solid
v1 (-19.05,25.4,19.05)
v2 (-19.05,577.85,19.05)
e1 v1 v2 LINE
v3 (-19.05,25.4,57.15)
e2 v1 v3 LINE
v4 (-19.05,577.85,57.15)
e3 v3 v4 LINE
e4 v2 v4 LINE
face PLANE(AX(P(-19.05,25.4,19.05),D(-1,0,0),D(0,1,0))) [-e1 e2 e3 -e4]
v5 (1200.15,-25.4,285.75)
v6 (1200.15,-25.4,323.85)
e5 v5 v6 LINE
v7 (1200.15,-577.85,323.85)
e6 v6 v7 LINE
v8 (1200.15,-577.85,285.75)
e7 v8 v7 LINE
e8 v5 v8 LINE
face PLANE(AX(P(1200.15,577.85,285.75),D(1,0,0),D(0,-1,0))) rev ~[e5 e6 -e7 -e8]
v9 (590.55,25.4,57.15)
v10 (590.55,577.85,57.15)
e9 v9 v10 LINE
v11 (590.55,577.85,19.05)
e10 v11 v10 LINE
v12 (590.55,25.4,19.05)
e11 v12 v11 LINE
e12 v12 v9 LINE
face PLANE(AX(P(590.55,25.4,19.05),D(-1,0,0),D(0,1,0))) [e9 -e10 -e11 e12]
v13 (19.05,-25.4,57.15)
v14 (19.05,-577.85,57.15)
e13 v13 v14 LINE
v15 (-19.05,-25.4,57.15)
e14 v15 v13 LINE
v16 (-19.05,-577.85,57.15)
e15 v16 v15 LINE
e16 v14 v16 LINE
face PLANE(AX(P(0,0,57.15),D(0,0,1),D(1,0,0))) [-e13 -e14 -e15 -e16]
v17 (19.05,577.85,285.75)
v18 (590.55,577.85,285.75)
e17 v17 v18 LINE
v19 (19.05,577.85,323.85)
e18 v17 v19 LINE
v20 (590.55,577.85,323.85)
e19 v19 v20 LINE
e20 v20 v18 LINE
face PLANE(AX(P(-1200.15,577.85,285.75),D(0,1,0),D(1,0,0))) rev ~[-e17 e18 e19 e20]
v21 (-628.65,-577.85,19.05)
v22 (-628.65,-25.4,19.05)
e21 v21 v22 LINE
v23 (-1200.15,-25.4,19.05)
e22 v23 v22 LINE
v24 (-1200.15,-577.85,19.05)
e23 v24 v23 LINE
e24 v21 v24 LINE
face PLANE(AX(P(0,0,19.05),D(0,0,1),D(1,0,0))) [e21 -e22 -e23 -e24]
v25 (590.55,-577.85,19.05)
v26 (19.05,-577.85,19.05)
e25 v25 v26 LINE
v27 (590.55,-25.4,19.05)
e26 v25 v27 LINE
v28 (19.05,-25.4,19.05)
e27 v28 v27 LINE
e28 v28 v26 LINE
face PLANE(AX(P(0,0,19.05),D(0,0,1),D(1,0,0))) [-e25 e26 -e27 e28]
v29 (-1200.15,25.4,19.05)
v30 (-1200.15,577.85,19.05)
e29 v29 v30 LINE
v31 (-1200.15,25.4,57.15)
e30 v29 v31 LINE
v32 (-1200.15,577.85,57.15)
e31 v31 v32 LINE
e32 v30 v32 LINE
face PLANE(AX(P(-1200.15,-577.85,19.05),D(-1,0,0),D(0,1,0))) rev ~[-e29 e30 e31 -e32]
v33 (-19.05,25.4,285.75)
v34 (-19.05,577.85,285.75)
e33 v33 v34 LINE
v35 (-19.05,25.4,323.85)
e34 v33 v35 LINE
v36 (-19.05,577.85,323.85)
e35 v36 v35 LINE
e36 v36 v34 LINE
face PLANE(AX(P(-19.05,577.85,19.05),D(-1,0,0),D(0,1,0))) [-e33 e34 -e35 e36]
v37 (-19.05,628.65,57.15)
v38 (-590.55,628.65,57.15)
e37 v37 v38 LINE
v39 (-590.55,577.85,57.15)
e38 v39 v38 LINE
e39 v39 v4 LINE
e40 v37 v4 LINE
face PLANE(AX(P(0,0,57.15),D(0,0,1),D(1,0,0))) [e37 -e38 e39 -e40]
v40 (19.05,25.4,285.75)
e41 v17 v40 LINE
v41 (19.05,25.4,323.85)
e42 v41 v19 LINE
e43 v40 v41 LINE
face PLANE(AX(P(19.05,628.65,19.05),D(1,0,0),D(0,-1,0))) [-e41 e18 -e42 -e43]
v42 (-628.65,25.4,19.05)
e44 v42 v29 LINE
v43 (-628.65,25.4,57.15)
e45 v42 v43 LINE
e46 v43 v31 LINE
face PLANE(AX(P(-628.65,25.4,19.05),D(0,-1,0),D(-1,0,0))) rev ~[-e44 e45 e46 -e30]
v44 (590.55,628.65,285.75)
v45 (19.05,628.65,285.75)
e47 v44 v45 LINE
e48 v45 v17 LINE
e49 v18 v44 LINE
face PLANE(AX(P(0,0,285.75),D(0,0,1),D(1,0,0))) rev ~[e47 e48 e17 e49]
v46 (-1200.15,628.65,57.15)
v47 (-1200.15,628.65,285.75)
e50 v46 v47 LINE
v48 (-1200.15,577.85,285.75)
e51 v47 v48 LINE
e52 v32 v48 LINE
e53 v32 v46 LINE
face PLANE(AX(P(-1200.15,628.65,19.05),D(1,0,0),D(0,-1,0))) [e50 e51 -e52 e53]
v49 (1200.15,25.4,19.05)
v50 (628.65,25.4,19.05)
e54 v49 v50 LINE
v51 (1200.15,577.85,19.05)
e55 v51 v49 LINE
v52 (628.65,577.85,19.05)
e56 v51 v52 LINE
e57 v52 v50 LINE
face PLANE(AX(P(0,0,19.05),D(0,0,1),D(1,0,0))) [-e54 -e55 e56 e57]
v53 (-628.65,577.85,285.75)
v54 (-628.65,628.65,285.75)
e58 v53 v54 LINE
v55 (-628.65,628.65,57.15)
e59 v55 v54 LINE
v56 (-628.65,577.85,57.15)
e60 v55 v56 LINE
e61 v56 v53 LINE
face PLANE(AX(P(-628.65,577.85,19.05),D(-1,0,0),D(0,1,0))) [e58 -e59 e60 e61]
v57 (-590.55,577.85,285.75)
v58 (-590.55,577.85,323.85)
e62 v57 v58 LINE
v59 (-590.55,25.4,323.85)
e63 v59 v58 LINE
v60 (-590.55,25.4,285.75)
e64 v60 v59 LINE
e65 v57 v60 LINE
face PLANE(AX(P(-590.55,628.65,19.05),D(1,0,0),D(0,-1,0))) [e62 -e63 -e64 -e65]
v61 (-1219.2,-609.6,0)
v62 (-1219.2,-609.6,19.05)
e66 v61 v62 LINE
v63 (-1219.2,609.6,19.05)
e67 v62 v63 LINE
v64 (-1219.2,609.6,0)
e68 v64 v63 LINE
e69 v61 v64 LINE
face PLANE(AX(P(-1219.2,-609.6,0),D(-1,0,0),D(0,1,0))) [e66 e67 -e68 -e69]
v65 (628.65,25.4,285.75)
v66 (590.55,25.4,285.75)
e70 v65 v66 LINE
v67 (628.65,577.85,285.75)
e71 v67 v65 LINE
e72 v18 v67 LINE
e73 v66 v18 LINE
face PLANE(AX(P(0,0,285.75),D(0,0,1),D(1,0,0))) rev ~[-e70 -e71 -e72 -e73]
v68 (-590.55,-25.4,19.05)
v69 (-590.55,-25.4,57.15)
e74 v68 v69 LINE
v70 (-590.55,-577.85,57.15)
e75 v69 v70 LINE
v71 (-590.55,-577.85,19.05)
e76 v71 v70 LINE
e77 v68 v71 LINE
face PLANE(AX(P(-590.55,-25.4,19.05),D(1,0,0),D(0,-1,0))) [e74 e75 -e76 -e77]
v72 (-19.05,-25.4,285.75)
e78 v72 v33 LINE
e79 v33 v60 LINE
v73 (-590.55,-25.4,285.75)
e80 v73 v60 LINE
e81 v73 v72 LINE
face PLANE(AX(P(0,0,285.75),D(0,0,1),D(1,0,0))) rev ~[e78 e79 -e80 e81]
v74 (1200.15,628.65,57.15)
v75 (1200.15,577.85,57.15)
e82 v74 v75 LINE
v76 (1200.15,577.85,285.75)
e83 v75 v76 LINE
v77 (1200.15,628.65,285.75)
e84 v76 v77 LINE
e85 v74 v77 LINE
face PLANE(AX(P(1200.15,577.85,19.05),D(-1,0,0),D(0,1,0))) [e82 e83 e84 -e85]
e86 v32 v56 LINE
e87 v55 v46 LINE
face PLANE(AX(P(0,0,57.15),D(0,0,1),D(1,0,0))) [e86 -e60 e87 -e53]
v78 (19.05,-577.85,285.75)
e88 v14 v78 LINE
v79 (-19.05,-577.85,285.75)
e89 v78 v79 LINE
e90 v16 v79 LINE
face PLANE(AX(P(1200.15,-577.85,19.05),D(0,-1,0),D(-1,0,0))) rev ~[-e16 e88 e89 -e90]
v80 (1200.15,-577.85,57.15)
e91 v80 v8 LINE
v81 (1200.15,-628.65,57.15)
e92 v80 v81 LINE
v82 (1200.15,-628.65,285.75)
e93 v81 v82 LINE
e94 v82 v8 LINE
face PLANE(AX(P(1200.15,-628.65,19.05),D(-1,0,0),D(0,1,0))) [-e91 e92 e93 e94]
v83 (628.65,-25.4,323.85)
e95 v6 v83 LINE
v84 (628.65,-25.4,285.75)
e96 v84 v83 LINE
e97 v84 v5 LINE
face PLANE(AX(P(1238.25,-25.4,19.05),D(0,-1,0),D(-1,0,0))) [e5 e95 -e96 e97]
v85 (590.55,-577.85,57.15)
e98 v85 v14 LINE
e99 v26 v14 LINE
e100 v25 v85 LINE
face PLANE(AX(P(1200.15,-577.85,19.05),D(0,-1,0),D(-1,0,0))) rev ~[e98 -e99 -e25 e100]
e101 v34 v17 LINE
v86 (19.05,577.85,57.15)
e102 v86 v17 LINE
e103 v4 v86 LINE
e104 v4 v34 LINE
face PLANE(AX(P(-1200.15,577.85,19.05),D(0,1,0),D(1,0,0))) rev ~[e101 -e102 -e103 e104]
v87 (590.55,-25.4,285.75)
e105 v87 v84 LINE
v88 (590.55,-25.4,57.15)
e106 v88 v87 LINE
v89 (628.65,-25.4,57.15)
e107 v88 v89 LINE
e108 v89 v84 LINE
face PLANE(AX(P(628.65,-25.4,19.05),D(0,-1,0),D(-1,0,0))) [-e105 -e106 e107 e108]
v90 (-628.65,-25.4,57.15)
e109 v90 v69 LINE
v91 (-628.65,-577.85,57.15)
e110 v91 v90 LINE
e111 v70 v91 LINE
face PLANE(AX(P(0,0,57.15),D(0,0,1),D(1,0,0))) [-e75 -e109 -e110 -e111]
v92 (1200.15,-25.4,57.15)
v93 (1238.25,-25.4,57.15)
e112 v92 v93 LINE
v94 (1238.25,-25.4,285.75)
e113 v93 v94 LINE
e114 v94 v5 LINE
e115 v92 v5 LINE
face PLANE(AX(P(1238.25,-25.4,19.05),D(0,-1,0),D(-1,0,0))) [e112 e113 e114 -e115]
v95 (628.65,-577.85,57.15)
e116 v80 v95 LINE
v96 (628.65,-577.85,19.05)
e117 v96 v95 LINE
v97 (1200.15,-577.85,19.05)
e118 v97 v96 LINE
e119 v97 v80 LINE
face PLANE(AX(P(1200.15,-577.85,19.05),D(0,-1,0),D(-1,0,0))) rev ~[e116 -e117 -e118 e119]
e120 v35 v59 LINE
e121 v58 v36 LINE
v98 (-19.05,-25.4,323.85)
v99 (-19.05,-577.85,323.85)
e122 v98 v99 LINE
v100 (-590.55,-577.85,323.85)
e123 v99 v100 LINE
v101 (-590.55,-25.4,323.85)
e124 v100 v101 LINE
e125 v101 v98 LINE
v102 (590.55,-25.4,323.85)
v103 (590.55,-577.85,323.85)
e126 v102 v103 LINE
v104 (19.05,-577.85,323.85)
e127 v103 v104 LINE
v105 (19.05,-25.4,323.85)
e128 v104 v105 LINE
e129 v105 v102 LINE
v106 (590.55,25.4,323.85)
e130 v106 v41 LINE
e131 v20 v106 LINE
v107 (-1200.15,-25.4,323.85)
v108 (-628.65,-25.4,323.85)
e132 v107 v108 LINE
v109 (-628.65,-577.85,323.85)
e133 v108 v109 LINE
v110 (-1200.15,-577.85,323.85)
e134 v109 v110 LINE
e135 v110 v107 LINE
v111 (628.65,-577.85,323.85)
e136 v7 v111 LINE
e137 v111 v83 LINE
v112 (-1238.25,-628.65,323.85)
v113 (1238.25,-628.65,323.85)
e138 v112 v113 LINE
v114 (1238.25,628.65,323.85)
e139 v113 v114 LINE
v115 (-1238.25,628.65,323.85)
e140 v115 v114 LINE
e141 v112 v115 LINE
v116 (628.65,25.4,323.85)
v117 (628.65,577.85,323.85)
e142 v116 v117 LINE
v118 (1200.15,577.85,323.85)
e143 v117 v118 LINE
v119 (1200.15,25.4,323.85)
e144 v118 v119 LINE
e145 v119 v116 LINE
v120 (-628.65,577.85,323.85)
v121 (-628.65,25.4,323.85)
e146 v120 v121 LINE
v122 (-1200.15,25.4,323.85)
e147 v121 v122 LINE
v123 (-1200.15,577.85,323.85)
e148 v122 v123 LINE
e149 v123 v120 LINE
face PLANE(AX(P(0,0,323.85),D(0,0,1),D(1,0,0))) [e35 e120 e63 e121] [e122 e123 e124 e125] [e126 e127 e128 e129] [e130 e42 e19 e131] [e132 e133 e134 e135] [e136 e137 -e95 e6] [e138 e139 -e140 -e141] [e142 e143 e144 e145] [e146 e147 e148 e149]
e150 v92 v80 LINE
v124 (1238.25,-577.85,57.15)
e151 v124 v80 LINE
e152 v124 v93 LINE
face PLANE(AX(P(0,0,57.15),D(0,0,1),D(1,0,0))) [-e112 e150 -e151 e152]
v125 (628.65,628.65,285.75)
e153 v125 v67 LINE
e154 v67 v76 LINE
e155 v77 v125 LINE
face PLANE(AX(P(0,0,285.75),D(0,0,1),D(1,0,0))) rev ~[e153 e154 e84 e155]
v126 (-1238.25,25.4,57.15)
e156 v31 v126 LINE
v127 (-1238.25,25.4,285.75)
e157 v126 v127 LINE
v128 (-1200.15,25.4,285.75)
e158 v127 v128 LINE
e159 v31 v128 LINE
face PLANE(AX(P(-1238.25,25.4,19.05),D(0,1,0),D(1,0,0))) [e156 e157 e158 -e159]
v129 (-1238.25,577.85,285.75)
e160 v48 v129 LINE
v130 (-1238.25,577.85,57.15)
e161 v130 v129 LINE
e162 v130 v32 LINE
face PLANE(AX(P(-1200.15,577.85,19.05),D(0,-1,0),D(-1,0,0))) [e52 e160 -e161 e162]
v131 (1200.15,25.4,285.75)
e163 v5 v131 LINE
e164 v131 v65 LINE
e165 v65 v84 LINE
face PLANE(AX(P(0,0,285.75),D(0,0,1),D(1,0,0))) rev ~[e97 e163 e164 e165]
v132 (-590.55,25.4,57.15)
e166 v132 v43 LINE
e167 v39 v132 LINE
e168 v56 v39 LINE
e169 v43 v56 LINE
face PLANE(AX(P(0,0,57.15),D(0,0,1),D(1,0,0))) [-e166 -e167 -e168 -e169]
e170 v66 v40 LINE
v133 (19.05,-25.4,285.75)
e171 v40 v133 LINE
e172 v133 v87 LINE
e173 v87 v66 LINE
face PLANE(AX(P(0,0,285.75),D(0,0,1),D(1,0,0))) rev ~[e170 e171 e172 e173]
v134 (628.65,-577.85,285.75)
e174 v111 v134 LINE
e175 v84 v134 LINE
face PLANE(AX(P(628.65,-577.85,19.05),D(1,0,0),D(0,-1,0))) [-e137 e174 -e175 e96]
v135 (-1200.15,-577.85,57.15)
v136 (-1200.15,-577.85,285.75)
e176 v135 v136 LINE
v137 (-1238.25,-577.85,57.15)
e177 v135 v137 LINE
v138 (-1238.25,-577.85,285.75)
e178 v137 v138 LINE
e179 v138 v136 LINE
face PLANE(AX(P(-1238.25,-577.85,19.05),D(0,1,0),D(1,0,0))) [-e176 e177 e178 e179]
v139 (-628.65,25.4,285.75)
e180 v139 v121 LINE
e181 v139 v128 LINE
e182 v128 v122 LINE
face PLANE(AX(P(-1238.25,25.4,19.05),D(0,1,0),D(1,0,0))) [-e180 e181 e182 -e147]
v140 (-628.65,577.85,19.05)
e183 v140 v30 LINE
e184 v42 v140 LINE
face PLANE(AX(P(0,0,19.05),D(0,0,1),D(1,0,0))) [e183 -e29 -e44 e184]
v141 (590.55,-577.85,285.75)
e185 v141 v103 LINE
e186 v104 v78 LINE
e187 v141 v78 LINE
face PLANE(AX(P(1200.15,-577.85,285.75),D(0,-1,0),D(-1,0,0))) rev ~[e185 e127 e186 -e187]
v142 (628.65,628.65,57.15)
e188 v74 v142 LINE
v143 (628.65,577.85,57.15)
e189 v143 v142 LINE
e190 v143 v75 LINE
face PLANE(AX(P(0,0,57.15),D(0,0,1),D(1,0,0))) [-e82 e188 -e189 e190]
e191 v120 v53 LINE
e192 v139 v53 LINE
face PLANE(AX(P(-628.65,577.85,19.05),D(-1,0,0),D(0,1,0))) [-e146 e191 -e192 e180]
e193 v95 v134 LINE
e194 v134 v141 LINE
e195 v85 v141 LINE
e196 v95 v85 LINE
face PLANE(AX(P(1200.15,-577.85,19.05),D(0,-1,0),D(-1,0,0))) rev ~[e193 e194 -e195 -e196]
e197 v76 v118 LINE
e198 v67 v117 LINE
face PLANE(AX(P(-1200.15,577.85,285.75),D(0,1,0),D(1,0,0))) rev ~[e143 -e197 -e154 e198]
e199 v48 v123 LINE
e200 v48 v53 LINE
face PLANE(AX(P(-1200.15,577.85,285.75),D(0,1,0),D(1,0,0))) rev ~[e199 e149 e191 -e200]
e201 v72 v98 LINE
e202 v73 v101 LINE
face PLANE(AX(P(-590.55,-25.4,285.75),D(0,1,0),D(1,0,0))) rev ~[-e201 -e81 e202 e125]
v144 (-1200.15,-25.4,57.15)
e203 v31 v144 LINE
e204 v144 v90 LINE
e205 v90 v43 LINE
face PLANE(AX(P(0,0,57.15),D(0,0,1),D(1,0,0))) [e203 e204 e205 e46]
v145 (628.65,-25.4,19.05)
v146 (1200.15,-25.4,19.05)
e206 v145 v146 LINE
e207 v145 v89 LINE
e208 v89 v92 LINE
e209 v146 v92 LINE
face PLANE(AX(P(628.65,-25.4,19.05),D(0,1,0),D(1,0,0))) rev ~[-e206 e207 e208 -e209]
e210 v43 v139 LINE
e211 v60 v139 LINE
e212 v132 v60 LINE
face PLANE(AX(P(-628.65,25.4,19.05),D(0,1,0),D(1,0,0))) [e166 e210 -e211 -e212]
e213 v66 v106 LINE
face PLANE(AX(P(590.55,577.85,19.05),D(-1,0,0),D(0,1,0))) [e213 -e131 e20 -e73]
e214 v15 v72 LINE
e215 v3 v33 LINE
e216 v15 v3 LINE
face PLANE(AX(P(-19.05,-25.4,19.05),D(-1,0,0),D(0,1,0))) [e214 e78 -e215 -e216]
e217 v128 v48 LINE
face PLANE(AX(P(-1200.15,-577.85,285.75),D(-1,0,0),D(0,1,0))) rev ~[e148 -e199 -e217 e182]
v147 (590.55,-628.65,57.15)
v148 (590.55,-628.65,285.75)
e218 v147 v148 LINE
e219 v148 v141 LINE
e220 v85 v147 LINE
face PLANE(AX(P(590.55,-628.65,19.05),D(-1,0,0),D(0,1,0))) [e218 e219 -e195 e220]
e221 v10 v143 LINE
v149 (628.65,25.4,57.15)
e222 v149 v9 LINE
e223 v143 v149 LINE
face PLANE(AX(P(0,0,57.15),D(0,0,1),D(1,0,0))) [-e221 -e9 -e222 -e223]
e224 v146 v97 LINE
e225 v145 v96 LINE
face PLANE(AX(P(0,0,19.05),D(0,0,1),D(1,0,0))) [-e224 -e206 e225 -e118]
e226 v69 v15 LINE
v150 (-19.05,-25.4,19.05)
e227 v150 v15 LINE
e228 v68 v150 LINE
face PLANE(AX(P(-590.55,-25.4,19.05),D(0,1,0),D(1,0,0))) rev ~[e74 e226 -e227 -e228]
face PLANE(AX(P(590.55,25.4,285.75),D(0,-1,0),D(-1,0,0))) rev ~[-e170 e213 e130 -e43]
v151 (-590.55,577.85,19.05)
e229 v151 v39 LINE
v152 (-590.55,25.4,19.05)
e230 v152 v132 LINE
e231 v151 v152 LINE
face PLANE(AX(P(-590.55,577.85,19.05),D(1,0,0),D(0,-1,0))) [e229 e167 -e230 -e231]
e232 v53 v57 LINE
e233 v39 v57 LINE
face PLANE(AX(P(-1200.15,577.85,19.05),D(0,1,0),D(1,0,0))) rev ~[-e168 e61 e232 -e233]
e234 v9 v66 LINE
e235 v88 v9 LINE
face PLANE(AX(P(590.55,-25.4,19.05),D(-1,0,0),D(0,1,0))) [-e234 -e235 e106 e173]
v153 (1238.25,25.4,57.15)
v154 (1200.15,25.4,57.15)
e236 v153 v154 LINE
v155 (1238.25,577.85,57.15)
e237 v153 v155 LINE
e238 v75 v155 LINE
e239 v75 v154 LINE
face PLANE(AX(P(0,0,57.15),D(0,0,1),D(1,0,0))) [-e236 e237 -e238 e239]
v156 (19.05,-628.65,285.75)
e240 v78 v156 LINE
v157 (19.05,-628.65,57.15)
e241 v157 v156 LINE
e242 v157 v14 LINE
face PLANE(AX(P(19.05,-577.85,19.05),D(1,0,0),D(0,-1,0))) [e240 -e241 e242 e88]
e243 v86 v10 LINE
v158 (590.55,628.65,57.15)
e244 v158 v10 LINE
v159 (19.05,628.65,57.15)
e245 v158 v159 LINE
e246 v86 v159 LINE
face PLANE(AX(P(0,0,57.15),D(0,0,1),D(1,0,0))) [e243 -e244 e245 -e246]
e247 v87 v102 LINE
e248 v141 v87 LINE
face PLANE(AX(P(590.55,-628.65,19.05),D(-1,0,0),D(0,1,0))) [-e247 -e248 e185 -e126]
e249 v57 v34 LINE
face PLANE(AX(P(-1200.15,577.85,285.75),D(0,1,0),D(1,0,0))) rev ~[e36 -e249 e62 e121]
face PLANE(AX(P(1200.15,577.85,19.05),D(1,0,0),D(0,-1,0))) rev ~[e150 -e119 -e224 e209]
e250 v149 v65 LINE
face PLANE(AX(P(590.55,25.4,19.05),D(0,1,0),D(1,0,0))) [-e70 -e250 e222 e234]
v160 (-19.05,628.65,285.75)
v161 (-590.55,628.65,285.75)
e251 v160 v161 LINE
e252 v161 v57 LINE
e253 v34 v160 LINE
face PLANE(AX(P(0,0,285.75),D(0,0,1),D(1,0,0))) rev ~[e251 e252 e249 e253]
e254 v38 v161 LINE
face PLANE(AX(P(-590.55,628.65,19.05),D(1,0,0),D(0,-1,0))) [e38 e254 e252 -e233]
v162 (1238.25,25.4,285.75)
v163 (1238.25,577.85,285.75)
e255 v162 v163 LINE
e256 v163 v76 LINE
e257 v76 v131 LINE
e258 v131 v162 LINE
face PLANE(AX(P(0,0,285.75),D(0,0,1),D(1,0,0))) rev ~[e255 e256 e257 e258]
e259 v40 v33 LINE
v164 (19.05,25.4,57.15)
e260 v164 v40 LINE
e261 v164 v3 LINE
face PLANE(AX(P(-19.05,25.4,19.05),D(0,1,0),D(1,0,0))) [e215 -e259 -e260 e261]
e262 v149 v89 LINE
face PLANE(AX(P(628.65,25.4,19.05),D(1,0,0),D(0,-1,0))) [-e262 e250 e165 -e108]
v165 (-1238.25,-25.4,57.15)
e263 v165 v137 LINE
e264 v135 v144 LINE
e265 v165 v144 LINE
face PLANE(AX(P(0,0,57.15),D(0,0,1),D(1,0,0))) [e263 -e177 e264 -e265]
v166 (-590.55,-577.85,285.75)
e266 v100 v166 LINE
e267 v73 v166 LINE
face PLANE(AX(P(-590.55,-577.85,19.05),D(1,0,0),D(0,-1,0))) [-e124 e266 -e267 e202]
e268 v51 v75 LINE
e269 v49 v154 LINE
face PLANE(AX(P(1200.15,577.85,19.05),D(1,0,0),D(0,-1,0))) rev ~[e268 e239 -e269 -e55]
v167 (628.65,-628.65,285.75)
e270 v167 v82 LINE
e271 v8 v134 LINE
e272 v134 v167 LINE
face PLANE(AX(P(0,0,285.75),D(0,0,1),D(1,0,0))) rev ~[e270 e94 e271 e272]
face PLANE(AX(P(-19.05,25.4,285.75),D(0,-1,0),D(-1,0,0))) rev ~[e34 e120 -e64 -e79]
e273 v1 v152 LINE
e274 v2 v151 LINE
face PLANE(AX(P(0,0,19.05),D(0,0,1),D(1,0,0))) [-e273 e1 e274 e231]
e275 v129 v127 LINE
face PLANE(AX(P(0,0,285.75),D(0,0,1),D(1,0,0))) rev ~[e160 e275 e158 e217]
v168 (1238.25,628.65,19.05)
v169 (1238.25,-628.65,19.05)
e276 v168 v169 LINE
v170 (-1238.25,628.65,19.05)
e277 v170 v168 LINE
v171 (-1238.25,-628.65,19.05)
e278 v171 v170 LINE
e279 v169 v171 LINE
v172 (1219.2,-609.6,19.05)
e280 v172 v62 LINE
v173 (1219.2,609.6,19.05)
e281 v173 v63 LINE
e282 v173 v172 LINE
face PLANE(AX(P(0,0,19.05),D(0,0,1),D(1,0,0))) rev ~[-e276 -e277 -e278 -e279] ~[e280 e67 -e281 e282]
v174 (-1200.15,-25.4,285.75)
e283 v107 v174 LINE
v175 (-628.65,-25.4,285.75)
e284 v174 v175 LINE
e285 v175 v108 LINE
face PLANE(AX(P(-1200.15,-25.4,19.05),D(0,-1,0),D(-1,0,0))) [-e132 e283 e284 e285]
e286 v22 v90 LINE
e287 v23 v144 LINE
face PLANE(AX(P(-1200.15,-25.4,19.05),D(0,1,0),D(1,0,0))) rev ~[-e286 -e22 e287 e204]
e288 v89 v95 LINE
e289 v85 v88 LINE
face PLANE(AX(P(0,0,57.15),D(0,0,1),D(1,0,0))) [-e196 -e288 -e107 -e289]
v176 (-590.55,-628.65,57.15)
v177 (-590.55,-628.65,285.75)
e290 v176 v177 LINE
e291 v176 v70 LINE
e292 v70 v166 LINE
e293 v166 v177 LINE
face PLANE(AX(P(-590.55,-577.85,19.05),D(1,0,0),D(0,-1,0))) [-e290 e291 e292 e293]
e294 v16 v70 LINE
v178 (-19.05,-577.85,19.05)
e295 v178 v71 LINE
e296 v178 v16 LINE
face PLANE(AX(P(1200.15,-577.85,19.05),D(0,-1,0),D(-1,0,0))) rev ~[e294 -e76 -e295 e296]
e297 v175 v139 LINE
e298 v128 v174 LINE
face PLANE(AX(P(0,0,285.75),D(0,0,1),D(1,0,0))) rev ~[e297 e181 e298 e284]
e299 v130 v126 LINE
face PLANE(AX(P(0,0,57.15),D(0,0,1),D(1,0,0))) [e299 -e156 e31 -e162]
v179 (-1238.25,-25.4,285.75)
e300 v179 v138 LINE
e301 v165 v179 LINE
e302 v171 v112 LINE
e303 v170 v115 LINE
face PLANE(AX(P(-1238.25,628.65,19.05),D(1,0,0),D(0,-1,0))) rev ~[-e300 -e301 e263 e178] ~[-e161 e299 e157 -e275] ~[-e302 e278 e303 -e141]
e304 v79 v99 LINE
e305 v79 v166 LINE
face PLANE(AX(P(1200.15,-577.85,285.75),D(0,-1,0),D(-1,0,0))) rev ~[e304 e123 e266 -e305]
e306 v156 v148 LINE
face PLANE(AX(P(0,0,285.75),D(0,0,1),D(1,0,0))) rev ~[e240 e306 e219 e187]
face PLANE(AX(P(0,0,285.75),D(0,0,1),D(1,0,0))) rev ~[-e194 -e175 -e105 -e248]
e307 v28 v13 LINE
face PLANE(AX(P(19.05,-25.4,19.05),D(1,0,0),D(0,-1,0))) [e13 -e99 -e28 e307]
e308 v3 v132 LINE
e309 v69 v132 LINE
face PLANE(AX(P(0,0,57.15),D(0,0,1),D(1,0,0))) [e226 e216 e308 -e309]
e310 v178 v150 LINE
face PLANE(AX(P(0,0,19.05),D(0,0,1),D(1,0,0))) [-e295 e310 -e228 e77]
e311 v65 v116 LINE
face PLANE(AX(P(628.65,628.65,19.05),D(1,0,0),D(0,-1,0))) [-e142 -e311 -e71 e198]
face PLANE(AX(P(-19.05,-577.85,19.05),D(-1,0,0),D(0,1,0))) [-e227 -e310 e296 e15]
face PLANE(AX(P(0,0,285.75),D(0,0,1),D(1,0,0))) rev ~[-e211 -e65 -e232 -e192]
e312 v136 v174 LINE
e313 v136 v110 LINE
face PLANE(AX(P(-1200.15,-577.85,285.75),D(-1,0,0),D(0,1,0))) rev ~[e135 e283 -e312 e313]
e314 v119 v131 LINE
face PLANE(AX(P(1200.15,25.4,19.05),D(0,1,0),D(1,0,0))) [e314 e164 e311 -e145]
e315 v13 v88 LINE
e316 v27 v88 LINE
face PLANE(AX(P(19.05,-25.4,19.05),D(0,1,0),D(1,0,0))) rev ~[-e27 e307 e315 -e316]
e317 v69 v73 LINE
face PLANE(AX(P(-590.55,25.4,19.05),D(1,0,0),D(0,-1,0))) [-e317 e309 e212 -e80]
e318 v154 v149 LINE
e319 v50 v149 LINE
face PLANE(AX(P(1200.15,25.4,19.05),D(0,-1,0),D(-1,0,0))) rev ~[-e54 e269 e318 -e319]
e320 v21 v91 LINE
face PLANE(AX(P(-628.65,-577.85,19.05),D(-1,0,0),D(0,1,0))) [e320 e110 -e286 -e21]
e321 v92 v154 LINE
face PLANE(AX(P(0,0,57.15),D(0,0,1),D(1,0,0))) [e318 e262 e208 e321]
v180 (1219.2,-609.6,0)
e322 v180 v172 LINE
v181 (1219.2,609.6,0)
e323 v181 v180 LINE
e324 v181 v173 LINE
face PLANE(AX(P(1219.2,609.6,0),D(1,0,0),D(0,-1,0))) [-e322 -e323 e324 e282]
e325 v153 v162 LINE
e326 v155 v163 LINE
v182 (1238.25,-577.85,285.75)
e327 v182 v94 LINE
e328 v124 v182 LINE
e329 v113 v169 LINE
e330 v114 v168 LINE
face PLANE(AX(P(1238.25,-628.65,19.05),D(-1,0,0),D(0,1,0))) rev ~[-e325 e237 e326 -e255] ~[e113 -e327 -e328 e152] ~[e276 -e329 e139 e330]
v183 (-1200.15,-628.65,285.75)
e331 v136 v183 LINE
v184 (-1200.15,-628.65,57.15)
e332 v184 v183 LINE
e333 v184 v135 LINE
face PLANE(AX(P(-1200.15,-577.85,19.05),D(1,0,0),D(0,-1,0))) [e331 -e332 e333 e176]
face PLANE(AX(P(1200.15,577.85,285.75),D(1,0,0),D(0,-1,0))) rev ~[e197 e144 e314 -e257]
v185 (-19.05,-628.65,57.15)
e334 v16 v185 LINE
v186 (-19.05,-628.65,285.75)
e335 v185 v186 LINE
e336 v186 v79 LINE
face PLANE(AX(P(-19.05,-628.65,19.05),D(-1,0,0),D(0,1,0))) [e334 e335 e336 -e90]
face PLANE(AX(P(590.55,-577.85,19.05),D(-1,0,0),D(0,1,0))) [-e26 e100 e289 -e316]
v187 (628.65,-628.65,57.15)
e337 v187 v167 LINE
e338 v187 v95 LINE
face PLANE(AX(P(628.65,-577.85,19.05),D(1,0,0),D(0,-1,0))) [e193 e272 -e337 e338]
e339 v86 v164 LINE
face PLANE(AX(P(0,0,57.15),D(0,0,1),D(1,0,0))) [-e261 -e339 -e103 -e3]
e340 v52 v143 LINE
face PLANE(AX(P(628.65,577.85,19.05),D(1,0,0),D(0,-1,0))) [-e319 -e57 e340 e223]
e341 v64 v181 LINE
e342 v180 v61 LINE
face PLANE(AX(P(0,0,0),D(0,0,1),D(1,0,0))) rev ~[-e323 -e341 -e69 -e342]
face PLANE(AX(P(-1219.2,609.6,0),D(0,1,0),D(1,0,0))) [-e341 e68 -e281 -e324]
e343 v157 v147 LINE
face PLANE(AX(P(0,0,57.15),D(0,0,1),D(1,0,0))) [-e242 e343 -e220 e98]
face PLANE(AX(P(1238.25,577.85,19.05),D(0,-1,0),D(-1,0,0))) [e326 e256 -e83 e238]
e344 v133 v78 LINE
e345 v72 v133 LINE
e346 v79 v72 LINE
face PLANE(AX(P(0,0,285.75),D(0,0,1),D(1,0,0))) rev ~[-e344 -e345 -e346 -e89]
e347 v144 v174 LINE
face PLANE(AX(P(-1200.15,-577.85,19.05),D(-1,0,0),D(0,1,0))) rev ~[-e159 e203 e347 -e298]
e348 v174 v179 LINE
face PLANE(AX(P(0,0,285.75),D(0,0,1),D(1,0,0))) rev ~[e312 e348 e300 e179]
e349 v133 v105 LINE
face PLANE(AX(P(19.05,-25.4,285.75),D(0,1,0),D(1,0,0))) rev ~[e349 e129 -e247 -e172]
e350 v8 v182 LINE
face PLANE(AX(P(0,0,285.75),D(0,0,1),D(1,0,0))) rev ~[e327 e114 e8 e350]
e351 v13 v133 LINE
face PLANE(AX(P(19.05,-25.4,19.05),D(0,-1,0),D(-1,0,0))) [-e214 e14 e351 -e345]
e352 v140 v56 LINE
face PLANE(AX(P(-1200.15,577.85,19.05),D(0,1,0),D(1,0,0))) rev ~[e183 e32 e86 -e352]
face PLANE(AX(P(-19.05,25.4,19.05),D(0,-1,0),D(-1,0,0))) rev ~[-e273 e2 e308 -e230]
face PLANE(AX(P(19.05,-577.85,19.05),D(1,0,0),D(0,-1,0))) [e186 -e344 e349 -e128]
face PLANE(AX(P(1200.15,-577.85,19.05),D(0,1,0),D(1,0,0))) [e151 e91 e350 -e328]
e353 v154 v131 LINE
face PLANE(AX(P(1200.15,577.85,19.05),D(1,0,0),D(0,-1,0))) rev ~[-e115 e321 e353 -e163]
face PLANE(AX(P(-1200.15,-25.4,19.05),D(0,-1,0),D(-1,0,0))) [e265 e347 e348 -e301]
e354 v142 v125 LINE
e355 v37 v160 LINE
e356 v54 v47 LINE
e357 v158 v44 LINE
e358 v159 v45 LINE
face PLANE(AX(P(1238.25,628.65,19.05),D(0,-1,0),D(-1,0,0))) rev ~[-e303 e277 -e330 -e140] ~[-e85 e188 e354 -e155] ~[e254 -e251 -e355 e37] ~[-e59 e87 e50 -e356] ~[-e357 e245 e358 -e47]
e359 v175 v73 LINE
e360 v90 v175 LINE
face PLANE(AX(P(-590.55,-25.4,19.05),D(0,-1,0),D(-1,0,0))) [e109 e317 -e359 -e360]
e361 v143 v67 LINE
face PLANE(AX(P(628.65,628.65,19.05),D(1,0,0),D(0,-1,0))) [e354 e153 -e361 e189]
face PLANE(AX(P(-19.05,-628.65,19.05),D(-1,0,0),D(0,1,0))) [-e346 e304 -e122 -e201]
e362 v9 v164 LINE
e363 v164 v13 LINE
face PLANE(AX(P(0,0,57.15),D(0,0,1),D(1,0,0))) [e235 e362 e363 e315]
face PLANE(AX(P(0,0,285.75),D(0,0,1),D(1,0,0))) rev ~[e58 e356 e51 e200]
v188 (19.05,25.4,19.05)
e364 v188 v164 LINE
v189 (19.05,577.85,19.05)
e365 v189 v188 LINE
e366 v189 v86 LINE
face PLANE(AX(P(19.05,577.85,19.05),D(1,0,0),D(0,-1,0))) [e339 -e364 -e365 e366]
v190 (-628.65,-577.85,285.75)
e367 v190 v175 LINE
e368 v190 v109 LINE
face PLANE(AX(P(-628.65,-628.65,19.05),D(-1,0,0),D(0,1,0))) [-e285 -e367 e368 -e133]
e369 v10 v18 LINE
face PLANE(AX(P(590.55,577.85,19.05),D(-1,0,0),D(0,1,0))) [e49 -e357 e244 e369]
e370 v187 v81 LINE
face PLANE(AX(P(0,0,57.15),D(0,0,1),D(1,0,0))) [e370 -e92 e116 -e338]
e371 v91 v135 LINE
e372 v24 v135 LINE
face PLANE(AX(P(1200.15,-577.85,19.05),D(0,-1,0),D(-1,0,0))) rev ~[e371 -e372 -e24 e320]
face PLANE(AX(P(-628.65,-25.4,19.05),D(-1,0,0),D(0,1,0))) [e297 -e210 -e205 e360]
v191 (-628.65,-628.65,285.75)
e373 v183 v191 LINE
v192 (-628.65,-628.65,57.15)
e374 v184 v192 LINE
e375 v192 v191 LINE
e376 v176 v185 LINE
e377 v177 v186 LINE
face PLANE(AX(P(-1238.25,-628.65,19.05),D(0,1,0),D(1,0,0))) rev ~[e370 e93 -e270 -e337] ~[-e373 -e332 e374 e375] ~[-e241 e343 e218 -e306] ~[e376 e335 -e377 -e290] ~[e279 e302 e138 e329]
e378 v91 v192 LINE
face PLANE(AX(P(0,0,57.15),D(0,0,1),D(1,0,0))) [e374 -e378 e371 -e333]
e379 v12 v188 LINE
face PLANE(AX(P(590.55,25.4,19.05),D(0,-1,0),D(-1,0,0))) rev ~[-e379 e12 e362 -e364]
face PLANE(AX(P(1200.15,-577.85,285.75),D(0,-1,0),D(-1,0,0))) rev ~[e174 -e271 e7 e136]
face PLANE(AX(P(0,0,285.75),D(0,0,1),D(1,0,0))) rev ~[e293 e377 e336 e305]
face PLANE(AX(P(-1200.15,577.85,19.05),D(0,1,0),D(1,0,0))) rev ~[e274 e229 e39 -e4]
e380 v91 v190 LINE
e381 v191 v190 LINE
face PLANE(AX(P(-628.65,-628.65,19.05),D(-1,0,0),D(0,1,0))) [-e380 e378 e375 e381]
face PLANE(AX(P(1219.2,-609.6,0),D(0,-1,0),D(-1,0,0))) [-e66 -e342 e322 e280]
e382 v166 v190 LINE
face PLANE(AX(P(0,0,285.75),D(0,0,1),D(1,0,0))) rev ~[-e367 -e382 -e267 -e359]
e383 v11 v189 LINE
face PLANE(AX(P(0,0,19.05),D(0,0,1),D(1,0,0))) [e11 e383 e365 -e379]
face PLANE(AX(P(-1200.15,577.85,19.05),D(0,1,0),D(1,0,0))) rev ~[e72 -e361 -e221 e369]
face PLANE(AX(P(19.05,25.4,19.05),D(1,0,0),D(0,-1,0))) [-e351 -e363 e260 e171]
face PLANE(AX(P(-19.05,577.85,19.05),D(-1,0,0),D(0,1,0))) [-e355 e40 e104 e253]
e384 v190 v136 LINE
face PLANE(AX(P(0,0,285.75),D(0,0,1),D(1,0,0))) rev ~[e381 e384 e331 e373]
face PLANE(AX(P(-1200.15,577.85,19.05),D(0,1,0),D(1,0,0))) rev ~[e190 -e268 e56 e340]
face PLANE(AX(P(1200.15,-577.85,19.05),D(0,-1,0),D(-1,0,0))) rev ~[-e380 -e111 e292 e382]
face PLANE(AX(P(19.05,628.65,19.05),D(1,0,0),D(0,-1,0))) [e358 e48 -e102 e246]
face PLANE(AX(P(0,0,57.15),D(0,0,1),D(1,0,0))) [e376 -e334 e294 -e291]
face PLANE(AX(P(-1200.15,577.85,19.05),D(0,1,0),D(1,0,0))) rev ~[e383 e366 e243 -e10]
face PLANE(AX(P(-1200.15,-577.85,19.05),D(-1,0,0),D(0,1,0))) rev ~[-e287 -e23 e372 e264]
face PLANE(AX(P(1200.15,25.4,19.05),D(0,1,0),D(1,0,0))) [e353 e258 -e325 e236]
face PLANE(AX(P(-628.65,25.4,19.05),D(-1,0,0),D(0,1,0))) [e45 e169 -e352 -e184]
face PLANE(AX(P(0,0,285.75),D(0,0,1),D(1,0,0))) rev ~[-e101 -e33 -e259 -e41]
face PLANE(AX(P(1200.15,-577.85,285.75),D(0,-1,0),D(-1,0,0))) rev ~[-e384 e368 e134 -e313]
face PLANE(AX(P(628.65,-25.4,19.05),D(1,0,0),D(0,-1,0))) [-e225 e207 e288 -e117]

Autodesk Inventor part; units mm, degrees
ref_plane "YZ Plane" through (0, 0, 0) normal (1, 0, 0) x (0, 1, 0)
ref_plane "XZ Plane" through (0, 0, 0) normal (0, 1, 0) x (-1, 0, 0)
ref_plane "XY Plane" through (0, 0, 0) normal (0, 0, 1) x (1, 0, 0)
sketch "Sketch1" plane through (0, 0, 0) normal (0, 0, 1) x (1, 0, 0)
  line L0 (1219.2, -609.6) -> (-1219.2, -609.6)
  line L1 (-1219.2, -609.6) -> (-1219.2, 609.6)
  line L2 (-1219.2, 609.6) -> (1219.2, 609.6)
  line L3 (1219.2, 609.6) -> (1219.2, -609.6)
  line L4 (1219.2, -609.6) -> (-1219.2, 609.6) construction
  line L5 (-1219.2, -609.6) -> (1219.2, 609.6) construction
  point P0 (0, 0)
  dimension "d0" = 2438.4
  dimension "d1" = 1219.2
extrude "Extrusion1" add sketch "Sketch1" along normal blind 19.05
sketch "Sketch2" plane through (0, 0, 19.05) normal (0, 0, 1) x (1, 0, 0)
  line L0 (-1238.25, -628.65) -> (1238.25, -628.65)
  line L1 (1238.25, -628.65) -> (1238.25, 628.65)
  line L2 (1238.25, 628.65) -> (-1238.25, 628.65)
  line L3 (-1238.25, 628.65) -> (-1238.25, -628.65)
  line L4 (-1238.25, -628.65) -> (1238.25, 628.65) construction
  line L5 (1238.25, -628.65) -> (-1238.25, 628.65) construction
  line L6 (1200.15, -577.85) -> (-1200.15, -577.85)
  line L7 (-1200.15, -577.85) -> (-1200.15, 577.85)
  line L8 (-1200.15, 577.85) -> (1200.15, 577.85)
  line L9 (1200.15, 577.85) -> (1200.15, -577.85)
  line L10 (1200.15, -577.85) -> (-1200.15, 577.85) construction
  line L11 (-1200.15, -577.85) -> (1200.15, 577.85) construction
  point P0 (0, 0)
  dimension "d4" = 2476.5
  dimension "d5" = 1257.3
  dimension "d6" = 2400.3
  dimension "d7" = 1155.7
extrude "Extrusion2" add sketch "Sketch2" along normal blind 38.1
sketch "Sketch4" plane through (0, 0, 19.05) normal (0, 0, 1) x (1, 0, 0)
  line L0 (-1200.15, 577.85) -> (-1200.15, -577.85) projected
  line L1 (-1238.25, 628.65) -> (-1200.15, 628.65)
  line L2 (-1200.15, 628.65) -> (-1200.15, 577.85)
  line L3 (-1200.15, 577.85) -> (-1238.25, 577.85)
  line L4 (-1238.25, 577.85) -> (-1238.25, 628.65)
  line L5 (-590.55, 577.85) -> (-628.65, 577.85)
  line L6 (-590.55, 628.65) -> (-590.55, 577.85)
  line L7 (-628.65, 628.65) -> (-590.55, 628.65)
  line L8 (-628.65, 577.85) -> (-628.65, 628.65)
  line L9 (19.05, 577.85) -> (-19.05, 577.85)
  line L10 (19.05, 628.65) -> (19.05, 577.85)
  line L11 (-19.05, 628.65) -> (19.05, 628.65)
  line L12 (-19.05, 577.85) -> (-19.05, 628.65)
  line L13 (628.65, 577.85) -> (590.55, 577.85)
  line L14 (628.65, 628.65) -> (628.65, 577.85)
  line L15 (590.55, 628.65) -> (628.65, 628.65)
  line L16 (590.55, 577.85) -> (590.55, 628.65)
  line L17 (1238.25, 577.85) -> (1200.15, 577.85)
  line L18 (1238.25, 628.65) -> (1238.25, 577.85)
  line L19 (1200.15, 628.65) -> (1238.25, 628.65)
  line L20 (1200.15, 577.85) -> (1200.15, 628.65)
  line L21 (-1200.15, -25.4) -> (-1238.25, -25.4)
  line L22 (-1200.15, 25.4) -> (-1200.15, -25.4)
  line L23 (-1238.25, 25.4) -> (-1200.15, 25.4)
  line L24 (-1238.25, -25.4) -> (-1238.25, 25.4)
  line L25 (-590.55, -25.4) -> (-628.65, -25.4)
  line L26 (-590.55, 25.4) -> (-590.55, -25.4)
  line L27 (-628.65, 25.4) -> (-590.55, 25.4)
  line L28 (-628.65, -25.4) -> (-628.65, 25.4)
  line L29 (19.05, -25.4) -> (-19.05, -25.4)
  line L30 (19.05, 25.4) -> (19.05, -25.4)
  line L31 (-19.05, 25.4) -> (19.05, 25.4)
  line L32 (-19.05, -25.4) -> (-19.05, 25.4)
  line L33 (628.65, -25.4) -> (590.55, -25.4)
  line L34 (628.65, 25.4) -> (628.65, -25.4)
  line L35 (590.55, 25.4) -> (628.65, 25.4)
  line L36 (590.55, -25.4) -> (590.55, 25.4)
  line L37 (1238.25, -25.4) -> (1200.15, -25.4)
  line L38 (1238.25, 25.4) -> (1238.25, -25.4)
  line L39 (1200.15, 25.4) -> (1238.25, 25.4)
  line L40 (1200.15, -25.4) -> (1200.15, 25.4)
  line L41 (-1200.15, -628.65) -> (-1238.25, -628.65)
  line L42 (-1200.15, -577.85) -> (-1200.15, -628.65)
  line L43 (-1238.25, -577.85) -> (-1200.15, -577.85)
  line L44 (-1238.25, -628.65) -> (-1238.25, -577.85)
  line L45 (-590.55, -628.65) -> (-628.65, -628.65)
  line L46 (-590.55, -577.85) -> (-590.55, -628.65)
  line L47 (-628.65, -577.85) -> (-590.55, -577.85)
  line L48 (-628.65, -628.65) -> (-628.65, -577.85)
  line L49 (19.05, -628.65) -> (-19.05, -628.65)
  line L50 (19.05, -577.85) -> (19.05, -628.65)
  line L51 (-19.05, -577.85) -> (19.05, -577.85)
  line L52 (-19.05, -628.65) -> (-19.05, -577.85)
  line L53 (628.65, -628.65) -> (590.55, -628.65)
  line L54 (628.65, -577.85) -> (628.65, -628.65)
  line L55 (590.55, -577.85) -> (628.65, -577.85)
  line L56 (590.55, -628.65) -> (590.55, -577.85)
  line L57 (1238.25, -628.65) -> (1200.15, -628.65)
  line L58 (1238.25, -577.85) -> (1238.25, -628.65)
  line L59 (1200.15, -577.85) -> (1238.25, -577.85)
  line L60 (1200.15, -628.65) -> (1200.15, -577.85)
  point P0 (0, 0)
  dimension "d35" = 609.6
  dimension "d38" = 603.25
extrude "Extrusion3" add sketch "Sketch4" along normal blind 304.8
sketch "Sketch5" plane through (0, 0, 19.05) normal (0, 0, 1) x (1, 0, 0)
  line L0 (-1238.25, -25.4) -> (-1200.15, -25.4) projected
  line L1 (-628.65, -25.4) -> (-628.65, 25.4) projected
  line L2 (-1200.15, -25.4) -> (-628.65, -25.4)
  line L3 (-628.65, -25.4) -> (-628.65, 25.4)
  line L4 (-628.65, 25.4) -> (-1200.15, 25.4)
  line L5 (-1200.15, 25.4) -> (-1200.15, -25.4)
  line L6 (-590.55, -25.4) -> (-590.55, 25.4) projected
  line L7 (-628.65, 577.85) -> (-590.55, 577.85) projected
  line L8 (-590.55, 25.4) -> (-628.65, 25.4)
  line L9 (-628.65, 25.4) -> (-628.65, 577.85)
  line L10 (-628.65, 577.85) -> (-590.55, 577.85)
  line L11 (-590.55, 577.85) -> (-590.55, 25.4)
  line L12 (-590.55, 25.4) -> (-590.55, -25.4)
  line L13 (-19.05, 25.4) -> (-590.55, 25.4)
  line L14 (-590.55, -25.4) -> (-19.05, -25.4)
  line L15 (-19.05, -25.4) -> (-19.05, 25.4)
  line L16 (19.05, 25.4) -> (-19.05, 25.4)
  line L17 (-19.05, 25.4) -> (-19.05, 577.85)
  line L18 (19.05, 577.85) -> (19.05, 25.4)
  line L19 (-19.05, 577.85) -> (19.05, 577.85)
  line L20 (19.05, 25.4) -> (19.05, -25.4)
  line L21 (590.55, 25.4) -> (19.05, 25.4)
  line L22 (19.05, -25.4) -> (590.55, -25.4)
  line L23 (590.55, -25.4) -> (590.55, 25.4)
  line L24 (628.65, 25.4) -> (590.55, 25.4)
  line L25 (590.55, 25.4) -> (590.55, 577.85)
  line L26 (628.65, 577.85) -> (628.65, 25.4)
  line L27 (590.55, 577.85) -> (628.65, 577.85)
  line L28 (628.65, 25.4) -> (628.65, -25.4)
  line L29 (1200.15, 25.4) -> (628.65, 25.4)
  line L30 (628.65, -25.4) -> (1200.15, -25.4)
  line L31 (1200.15, -25.4) -> (1200.15, 25.4)
  line L32 (1238.25, 25.4) -> (1200.15, 25.4)
  line L33 (1200.15, 25.4) -> (1200.15, 577.85)
  line L34 (1238.25, 577.85) -> (1238.25, 25.4)
  line L35 (1200.15, 577.85) -> (1238.25, 577.85)
  line L36 (-1200.15, -577.85) -> (-1200.15, -628.65)
  line L37 (-628.65, -577.85) -> (-1200.15, -577.85)
  line L38 (-1200.15, -628.65) -> (-628.65, -628.65)
  line L39 (-628.65, -628.65) -> (-628.65, -577.85)
  line L40 (-590.55, -577.85) -> (-628.65, -577.85)
  line L41 (-628.65, -577.85) -> (-628.65, -25.4)
  line L42 (-590.55, -25.4) -> (-590.55, -577.85)
  line L43 (-628.65, -25.4) -> (-590.55, -25.4)
  line L44 (-590.55, -577.85) -> (-590.55, -628.65)
  line L45 (-19.05, -577.85) -> (-590.55, -577.85)
  line L46 (-590.55, -628.65) -> (-19.05, -628.65)
  line L47 (-19.05, -628.65) -> (-19.05, -577.85)
  line L48 (19.05, -577.85) -> (-19.05, -577.85)
  line L49 (-19.05, -577.85) -> (-19.05, -25.4)
  line L50 (19.05, -25.4) -> (19.05, -577.85)
  line L51 (-19.05, -25.4) -> (19.05, -25.4)
  line L52 (19.05, -577.85) -> (19.05, -628.65)
  line L53 (590.55, -577.85) -> (19.05, -577.85)
  line L54 (19.05, -628.65) -> (590.55, -628.65)
  line L55 (590.55, -628.65) -> (590.55, -577.85)
  line L56 (628.65, -577.85) -> (590.55, -577.85)
  line L57 (590.55, -577.85) -> (590.55, -25.4)
  line L58 (628.65, -25.4) -> (628.65, -577.85)
  line L59 (590.55, -25.4) -> (628.65, -25.4)
  line L60 (628.65, -577.85) -> (628.65, -628.65)
  line L61 (1200.15, -577.85) -> (628.65, -577.85)
  line L62 (628.65, -628.65) -> (1200.15, -628.65)
  line L63 (1200.15, -628.65) -> (1200.15, -577.85)
  line L64 (1238.25, -577.85) -> (1200.15, -577.85)
  line L65 (1200.15, -577.85) -> (1200.15, -25.4)
  line L66 (1238.25, -25.4) -> (1238.25, -577.85)
  line L67 (1200.15, -25.4) -> (1238.25, -25.4)
  point P0 (0, 0)
  dimension "d43" = 609.6
  dimension "d46" = 603.25
extrude "Extrusion4" add sketch "Sketch5" along normal blind 38.1 contours L2 L5 L4 L1 | L43 L42 L40 L41 | L9 L7 L11 L8 | L6 L13 L15 L14 | L51 L50 L48 L49 | L17 L19 L18 L16 | L20 L21 L23 L22 | L59 L58 L56 L57 | L25 L27 L26 L24 | L28 L29 L31 L30
pattern_linear "Rectangular Pattern1" count 2 spacing 266.7 along (0, 0, 1) of "Extrusion4", "Extrusion2"
properties part number "CustomAquariumsStand"
